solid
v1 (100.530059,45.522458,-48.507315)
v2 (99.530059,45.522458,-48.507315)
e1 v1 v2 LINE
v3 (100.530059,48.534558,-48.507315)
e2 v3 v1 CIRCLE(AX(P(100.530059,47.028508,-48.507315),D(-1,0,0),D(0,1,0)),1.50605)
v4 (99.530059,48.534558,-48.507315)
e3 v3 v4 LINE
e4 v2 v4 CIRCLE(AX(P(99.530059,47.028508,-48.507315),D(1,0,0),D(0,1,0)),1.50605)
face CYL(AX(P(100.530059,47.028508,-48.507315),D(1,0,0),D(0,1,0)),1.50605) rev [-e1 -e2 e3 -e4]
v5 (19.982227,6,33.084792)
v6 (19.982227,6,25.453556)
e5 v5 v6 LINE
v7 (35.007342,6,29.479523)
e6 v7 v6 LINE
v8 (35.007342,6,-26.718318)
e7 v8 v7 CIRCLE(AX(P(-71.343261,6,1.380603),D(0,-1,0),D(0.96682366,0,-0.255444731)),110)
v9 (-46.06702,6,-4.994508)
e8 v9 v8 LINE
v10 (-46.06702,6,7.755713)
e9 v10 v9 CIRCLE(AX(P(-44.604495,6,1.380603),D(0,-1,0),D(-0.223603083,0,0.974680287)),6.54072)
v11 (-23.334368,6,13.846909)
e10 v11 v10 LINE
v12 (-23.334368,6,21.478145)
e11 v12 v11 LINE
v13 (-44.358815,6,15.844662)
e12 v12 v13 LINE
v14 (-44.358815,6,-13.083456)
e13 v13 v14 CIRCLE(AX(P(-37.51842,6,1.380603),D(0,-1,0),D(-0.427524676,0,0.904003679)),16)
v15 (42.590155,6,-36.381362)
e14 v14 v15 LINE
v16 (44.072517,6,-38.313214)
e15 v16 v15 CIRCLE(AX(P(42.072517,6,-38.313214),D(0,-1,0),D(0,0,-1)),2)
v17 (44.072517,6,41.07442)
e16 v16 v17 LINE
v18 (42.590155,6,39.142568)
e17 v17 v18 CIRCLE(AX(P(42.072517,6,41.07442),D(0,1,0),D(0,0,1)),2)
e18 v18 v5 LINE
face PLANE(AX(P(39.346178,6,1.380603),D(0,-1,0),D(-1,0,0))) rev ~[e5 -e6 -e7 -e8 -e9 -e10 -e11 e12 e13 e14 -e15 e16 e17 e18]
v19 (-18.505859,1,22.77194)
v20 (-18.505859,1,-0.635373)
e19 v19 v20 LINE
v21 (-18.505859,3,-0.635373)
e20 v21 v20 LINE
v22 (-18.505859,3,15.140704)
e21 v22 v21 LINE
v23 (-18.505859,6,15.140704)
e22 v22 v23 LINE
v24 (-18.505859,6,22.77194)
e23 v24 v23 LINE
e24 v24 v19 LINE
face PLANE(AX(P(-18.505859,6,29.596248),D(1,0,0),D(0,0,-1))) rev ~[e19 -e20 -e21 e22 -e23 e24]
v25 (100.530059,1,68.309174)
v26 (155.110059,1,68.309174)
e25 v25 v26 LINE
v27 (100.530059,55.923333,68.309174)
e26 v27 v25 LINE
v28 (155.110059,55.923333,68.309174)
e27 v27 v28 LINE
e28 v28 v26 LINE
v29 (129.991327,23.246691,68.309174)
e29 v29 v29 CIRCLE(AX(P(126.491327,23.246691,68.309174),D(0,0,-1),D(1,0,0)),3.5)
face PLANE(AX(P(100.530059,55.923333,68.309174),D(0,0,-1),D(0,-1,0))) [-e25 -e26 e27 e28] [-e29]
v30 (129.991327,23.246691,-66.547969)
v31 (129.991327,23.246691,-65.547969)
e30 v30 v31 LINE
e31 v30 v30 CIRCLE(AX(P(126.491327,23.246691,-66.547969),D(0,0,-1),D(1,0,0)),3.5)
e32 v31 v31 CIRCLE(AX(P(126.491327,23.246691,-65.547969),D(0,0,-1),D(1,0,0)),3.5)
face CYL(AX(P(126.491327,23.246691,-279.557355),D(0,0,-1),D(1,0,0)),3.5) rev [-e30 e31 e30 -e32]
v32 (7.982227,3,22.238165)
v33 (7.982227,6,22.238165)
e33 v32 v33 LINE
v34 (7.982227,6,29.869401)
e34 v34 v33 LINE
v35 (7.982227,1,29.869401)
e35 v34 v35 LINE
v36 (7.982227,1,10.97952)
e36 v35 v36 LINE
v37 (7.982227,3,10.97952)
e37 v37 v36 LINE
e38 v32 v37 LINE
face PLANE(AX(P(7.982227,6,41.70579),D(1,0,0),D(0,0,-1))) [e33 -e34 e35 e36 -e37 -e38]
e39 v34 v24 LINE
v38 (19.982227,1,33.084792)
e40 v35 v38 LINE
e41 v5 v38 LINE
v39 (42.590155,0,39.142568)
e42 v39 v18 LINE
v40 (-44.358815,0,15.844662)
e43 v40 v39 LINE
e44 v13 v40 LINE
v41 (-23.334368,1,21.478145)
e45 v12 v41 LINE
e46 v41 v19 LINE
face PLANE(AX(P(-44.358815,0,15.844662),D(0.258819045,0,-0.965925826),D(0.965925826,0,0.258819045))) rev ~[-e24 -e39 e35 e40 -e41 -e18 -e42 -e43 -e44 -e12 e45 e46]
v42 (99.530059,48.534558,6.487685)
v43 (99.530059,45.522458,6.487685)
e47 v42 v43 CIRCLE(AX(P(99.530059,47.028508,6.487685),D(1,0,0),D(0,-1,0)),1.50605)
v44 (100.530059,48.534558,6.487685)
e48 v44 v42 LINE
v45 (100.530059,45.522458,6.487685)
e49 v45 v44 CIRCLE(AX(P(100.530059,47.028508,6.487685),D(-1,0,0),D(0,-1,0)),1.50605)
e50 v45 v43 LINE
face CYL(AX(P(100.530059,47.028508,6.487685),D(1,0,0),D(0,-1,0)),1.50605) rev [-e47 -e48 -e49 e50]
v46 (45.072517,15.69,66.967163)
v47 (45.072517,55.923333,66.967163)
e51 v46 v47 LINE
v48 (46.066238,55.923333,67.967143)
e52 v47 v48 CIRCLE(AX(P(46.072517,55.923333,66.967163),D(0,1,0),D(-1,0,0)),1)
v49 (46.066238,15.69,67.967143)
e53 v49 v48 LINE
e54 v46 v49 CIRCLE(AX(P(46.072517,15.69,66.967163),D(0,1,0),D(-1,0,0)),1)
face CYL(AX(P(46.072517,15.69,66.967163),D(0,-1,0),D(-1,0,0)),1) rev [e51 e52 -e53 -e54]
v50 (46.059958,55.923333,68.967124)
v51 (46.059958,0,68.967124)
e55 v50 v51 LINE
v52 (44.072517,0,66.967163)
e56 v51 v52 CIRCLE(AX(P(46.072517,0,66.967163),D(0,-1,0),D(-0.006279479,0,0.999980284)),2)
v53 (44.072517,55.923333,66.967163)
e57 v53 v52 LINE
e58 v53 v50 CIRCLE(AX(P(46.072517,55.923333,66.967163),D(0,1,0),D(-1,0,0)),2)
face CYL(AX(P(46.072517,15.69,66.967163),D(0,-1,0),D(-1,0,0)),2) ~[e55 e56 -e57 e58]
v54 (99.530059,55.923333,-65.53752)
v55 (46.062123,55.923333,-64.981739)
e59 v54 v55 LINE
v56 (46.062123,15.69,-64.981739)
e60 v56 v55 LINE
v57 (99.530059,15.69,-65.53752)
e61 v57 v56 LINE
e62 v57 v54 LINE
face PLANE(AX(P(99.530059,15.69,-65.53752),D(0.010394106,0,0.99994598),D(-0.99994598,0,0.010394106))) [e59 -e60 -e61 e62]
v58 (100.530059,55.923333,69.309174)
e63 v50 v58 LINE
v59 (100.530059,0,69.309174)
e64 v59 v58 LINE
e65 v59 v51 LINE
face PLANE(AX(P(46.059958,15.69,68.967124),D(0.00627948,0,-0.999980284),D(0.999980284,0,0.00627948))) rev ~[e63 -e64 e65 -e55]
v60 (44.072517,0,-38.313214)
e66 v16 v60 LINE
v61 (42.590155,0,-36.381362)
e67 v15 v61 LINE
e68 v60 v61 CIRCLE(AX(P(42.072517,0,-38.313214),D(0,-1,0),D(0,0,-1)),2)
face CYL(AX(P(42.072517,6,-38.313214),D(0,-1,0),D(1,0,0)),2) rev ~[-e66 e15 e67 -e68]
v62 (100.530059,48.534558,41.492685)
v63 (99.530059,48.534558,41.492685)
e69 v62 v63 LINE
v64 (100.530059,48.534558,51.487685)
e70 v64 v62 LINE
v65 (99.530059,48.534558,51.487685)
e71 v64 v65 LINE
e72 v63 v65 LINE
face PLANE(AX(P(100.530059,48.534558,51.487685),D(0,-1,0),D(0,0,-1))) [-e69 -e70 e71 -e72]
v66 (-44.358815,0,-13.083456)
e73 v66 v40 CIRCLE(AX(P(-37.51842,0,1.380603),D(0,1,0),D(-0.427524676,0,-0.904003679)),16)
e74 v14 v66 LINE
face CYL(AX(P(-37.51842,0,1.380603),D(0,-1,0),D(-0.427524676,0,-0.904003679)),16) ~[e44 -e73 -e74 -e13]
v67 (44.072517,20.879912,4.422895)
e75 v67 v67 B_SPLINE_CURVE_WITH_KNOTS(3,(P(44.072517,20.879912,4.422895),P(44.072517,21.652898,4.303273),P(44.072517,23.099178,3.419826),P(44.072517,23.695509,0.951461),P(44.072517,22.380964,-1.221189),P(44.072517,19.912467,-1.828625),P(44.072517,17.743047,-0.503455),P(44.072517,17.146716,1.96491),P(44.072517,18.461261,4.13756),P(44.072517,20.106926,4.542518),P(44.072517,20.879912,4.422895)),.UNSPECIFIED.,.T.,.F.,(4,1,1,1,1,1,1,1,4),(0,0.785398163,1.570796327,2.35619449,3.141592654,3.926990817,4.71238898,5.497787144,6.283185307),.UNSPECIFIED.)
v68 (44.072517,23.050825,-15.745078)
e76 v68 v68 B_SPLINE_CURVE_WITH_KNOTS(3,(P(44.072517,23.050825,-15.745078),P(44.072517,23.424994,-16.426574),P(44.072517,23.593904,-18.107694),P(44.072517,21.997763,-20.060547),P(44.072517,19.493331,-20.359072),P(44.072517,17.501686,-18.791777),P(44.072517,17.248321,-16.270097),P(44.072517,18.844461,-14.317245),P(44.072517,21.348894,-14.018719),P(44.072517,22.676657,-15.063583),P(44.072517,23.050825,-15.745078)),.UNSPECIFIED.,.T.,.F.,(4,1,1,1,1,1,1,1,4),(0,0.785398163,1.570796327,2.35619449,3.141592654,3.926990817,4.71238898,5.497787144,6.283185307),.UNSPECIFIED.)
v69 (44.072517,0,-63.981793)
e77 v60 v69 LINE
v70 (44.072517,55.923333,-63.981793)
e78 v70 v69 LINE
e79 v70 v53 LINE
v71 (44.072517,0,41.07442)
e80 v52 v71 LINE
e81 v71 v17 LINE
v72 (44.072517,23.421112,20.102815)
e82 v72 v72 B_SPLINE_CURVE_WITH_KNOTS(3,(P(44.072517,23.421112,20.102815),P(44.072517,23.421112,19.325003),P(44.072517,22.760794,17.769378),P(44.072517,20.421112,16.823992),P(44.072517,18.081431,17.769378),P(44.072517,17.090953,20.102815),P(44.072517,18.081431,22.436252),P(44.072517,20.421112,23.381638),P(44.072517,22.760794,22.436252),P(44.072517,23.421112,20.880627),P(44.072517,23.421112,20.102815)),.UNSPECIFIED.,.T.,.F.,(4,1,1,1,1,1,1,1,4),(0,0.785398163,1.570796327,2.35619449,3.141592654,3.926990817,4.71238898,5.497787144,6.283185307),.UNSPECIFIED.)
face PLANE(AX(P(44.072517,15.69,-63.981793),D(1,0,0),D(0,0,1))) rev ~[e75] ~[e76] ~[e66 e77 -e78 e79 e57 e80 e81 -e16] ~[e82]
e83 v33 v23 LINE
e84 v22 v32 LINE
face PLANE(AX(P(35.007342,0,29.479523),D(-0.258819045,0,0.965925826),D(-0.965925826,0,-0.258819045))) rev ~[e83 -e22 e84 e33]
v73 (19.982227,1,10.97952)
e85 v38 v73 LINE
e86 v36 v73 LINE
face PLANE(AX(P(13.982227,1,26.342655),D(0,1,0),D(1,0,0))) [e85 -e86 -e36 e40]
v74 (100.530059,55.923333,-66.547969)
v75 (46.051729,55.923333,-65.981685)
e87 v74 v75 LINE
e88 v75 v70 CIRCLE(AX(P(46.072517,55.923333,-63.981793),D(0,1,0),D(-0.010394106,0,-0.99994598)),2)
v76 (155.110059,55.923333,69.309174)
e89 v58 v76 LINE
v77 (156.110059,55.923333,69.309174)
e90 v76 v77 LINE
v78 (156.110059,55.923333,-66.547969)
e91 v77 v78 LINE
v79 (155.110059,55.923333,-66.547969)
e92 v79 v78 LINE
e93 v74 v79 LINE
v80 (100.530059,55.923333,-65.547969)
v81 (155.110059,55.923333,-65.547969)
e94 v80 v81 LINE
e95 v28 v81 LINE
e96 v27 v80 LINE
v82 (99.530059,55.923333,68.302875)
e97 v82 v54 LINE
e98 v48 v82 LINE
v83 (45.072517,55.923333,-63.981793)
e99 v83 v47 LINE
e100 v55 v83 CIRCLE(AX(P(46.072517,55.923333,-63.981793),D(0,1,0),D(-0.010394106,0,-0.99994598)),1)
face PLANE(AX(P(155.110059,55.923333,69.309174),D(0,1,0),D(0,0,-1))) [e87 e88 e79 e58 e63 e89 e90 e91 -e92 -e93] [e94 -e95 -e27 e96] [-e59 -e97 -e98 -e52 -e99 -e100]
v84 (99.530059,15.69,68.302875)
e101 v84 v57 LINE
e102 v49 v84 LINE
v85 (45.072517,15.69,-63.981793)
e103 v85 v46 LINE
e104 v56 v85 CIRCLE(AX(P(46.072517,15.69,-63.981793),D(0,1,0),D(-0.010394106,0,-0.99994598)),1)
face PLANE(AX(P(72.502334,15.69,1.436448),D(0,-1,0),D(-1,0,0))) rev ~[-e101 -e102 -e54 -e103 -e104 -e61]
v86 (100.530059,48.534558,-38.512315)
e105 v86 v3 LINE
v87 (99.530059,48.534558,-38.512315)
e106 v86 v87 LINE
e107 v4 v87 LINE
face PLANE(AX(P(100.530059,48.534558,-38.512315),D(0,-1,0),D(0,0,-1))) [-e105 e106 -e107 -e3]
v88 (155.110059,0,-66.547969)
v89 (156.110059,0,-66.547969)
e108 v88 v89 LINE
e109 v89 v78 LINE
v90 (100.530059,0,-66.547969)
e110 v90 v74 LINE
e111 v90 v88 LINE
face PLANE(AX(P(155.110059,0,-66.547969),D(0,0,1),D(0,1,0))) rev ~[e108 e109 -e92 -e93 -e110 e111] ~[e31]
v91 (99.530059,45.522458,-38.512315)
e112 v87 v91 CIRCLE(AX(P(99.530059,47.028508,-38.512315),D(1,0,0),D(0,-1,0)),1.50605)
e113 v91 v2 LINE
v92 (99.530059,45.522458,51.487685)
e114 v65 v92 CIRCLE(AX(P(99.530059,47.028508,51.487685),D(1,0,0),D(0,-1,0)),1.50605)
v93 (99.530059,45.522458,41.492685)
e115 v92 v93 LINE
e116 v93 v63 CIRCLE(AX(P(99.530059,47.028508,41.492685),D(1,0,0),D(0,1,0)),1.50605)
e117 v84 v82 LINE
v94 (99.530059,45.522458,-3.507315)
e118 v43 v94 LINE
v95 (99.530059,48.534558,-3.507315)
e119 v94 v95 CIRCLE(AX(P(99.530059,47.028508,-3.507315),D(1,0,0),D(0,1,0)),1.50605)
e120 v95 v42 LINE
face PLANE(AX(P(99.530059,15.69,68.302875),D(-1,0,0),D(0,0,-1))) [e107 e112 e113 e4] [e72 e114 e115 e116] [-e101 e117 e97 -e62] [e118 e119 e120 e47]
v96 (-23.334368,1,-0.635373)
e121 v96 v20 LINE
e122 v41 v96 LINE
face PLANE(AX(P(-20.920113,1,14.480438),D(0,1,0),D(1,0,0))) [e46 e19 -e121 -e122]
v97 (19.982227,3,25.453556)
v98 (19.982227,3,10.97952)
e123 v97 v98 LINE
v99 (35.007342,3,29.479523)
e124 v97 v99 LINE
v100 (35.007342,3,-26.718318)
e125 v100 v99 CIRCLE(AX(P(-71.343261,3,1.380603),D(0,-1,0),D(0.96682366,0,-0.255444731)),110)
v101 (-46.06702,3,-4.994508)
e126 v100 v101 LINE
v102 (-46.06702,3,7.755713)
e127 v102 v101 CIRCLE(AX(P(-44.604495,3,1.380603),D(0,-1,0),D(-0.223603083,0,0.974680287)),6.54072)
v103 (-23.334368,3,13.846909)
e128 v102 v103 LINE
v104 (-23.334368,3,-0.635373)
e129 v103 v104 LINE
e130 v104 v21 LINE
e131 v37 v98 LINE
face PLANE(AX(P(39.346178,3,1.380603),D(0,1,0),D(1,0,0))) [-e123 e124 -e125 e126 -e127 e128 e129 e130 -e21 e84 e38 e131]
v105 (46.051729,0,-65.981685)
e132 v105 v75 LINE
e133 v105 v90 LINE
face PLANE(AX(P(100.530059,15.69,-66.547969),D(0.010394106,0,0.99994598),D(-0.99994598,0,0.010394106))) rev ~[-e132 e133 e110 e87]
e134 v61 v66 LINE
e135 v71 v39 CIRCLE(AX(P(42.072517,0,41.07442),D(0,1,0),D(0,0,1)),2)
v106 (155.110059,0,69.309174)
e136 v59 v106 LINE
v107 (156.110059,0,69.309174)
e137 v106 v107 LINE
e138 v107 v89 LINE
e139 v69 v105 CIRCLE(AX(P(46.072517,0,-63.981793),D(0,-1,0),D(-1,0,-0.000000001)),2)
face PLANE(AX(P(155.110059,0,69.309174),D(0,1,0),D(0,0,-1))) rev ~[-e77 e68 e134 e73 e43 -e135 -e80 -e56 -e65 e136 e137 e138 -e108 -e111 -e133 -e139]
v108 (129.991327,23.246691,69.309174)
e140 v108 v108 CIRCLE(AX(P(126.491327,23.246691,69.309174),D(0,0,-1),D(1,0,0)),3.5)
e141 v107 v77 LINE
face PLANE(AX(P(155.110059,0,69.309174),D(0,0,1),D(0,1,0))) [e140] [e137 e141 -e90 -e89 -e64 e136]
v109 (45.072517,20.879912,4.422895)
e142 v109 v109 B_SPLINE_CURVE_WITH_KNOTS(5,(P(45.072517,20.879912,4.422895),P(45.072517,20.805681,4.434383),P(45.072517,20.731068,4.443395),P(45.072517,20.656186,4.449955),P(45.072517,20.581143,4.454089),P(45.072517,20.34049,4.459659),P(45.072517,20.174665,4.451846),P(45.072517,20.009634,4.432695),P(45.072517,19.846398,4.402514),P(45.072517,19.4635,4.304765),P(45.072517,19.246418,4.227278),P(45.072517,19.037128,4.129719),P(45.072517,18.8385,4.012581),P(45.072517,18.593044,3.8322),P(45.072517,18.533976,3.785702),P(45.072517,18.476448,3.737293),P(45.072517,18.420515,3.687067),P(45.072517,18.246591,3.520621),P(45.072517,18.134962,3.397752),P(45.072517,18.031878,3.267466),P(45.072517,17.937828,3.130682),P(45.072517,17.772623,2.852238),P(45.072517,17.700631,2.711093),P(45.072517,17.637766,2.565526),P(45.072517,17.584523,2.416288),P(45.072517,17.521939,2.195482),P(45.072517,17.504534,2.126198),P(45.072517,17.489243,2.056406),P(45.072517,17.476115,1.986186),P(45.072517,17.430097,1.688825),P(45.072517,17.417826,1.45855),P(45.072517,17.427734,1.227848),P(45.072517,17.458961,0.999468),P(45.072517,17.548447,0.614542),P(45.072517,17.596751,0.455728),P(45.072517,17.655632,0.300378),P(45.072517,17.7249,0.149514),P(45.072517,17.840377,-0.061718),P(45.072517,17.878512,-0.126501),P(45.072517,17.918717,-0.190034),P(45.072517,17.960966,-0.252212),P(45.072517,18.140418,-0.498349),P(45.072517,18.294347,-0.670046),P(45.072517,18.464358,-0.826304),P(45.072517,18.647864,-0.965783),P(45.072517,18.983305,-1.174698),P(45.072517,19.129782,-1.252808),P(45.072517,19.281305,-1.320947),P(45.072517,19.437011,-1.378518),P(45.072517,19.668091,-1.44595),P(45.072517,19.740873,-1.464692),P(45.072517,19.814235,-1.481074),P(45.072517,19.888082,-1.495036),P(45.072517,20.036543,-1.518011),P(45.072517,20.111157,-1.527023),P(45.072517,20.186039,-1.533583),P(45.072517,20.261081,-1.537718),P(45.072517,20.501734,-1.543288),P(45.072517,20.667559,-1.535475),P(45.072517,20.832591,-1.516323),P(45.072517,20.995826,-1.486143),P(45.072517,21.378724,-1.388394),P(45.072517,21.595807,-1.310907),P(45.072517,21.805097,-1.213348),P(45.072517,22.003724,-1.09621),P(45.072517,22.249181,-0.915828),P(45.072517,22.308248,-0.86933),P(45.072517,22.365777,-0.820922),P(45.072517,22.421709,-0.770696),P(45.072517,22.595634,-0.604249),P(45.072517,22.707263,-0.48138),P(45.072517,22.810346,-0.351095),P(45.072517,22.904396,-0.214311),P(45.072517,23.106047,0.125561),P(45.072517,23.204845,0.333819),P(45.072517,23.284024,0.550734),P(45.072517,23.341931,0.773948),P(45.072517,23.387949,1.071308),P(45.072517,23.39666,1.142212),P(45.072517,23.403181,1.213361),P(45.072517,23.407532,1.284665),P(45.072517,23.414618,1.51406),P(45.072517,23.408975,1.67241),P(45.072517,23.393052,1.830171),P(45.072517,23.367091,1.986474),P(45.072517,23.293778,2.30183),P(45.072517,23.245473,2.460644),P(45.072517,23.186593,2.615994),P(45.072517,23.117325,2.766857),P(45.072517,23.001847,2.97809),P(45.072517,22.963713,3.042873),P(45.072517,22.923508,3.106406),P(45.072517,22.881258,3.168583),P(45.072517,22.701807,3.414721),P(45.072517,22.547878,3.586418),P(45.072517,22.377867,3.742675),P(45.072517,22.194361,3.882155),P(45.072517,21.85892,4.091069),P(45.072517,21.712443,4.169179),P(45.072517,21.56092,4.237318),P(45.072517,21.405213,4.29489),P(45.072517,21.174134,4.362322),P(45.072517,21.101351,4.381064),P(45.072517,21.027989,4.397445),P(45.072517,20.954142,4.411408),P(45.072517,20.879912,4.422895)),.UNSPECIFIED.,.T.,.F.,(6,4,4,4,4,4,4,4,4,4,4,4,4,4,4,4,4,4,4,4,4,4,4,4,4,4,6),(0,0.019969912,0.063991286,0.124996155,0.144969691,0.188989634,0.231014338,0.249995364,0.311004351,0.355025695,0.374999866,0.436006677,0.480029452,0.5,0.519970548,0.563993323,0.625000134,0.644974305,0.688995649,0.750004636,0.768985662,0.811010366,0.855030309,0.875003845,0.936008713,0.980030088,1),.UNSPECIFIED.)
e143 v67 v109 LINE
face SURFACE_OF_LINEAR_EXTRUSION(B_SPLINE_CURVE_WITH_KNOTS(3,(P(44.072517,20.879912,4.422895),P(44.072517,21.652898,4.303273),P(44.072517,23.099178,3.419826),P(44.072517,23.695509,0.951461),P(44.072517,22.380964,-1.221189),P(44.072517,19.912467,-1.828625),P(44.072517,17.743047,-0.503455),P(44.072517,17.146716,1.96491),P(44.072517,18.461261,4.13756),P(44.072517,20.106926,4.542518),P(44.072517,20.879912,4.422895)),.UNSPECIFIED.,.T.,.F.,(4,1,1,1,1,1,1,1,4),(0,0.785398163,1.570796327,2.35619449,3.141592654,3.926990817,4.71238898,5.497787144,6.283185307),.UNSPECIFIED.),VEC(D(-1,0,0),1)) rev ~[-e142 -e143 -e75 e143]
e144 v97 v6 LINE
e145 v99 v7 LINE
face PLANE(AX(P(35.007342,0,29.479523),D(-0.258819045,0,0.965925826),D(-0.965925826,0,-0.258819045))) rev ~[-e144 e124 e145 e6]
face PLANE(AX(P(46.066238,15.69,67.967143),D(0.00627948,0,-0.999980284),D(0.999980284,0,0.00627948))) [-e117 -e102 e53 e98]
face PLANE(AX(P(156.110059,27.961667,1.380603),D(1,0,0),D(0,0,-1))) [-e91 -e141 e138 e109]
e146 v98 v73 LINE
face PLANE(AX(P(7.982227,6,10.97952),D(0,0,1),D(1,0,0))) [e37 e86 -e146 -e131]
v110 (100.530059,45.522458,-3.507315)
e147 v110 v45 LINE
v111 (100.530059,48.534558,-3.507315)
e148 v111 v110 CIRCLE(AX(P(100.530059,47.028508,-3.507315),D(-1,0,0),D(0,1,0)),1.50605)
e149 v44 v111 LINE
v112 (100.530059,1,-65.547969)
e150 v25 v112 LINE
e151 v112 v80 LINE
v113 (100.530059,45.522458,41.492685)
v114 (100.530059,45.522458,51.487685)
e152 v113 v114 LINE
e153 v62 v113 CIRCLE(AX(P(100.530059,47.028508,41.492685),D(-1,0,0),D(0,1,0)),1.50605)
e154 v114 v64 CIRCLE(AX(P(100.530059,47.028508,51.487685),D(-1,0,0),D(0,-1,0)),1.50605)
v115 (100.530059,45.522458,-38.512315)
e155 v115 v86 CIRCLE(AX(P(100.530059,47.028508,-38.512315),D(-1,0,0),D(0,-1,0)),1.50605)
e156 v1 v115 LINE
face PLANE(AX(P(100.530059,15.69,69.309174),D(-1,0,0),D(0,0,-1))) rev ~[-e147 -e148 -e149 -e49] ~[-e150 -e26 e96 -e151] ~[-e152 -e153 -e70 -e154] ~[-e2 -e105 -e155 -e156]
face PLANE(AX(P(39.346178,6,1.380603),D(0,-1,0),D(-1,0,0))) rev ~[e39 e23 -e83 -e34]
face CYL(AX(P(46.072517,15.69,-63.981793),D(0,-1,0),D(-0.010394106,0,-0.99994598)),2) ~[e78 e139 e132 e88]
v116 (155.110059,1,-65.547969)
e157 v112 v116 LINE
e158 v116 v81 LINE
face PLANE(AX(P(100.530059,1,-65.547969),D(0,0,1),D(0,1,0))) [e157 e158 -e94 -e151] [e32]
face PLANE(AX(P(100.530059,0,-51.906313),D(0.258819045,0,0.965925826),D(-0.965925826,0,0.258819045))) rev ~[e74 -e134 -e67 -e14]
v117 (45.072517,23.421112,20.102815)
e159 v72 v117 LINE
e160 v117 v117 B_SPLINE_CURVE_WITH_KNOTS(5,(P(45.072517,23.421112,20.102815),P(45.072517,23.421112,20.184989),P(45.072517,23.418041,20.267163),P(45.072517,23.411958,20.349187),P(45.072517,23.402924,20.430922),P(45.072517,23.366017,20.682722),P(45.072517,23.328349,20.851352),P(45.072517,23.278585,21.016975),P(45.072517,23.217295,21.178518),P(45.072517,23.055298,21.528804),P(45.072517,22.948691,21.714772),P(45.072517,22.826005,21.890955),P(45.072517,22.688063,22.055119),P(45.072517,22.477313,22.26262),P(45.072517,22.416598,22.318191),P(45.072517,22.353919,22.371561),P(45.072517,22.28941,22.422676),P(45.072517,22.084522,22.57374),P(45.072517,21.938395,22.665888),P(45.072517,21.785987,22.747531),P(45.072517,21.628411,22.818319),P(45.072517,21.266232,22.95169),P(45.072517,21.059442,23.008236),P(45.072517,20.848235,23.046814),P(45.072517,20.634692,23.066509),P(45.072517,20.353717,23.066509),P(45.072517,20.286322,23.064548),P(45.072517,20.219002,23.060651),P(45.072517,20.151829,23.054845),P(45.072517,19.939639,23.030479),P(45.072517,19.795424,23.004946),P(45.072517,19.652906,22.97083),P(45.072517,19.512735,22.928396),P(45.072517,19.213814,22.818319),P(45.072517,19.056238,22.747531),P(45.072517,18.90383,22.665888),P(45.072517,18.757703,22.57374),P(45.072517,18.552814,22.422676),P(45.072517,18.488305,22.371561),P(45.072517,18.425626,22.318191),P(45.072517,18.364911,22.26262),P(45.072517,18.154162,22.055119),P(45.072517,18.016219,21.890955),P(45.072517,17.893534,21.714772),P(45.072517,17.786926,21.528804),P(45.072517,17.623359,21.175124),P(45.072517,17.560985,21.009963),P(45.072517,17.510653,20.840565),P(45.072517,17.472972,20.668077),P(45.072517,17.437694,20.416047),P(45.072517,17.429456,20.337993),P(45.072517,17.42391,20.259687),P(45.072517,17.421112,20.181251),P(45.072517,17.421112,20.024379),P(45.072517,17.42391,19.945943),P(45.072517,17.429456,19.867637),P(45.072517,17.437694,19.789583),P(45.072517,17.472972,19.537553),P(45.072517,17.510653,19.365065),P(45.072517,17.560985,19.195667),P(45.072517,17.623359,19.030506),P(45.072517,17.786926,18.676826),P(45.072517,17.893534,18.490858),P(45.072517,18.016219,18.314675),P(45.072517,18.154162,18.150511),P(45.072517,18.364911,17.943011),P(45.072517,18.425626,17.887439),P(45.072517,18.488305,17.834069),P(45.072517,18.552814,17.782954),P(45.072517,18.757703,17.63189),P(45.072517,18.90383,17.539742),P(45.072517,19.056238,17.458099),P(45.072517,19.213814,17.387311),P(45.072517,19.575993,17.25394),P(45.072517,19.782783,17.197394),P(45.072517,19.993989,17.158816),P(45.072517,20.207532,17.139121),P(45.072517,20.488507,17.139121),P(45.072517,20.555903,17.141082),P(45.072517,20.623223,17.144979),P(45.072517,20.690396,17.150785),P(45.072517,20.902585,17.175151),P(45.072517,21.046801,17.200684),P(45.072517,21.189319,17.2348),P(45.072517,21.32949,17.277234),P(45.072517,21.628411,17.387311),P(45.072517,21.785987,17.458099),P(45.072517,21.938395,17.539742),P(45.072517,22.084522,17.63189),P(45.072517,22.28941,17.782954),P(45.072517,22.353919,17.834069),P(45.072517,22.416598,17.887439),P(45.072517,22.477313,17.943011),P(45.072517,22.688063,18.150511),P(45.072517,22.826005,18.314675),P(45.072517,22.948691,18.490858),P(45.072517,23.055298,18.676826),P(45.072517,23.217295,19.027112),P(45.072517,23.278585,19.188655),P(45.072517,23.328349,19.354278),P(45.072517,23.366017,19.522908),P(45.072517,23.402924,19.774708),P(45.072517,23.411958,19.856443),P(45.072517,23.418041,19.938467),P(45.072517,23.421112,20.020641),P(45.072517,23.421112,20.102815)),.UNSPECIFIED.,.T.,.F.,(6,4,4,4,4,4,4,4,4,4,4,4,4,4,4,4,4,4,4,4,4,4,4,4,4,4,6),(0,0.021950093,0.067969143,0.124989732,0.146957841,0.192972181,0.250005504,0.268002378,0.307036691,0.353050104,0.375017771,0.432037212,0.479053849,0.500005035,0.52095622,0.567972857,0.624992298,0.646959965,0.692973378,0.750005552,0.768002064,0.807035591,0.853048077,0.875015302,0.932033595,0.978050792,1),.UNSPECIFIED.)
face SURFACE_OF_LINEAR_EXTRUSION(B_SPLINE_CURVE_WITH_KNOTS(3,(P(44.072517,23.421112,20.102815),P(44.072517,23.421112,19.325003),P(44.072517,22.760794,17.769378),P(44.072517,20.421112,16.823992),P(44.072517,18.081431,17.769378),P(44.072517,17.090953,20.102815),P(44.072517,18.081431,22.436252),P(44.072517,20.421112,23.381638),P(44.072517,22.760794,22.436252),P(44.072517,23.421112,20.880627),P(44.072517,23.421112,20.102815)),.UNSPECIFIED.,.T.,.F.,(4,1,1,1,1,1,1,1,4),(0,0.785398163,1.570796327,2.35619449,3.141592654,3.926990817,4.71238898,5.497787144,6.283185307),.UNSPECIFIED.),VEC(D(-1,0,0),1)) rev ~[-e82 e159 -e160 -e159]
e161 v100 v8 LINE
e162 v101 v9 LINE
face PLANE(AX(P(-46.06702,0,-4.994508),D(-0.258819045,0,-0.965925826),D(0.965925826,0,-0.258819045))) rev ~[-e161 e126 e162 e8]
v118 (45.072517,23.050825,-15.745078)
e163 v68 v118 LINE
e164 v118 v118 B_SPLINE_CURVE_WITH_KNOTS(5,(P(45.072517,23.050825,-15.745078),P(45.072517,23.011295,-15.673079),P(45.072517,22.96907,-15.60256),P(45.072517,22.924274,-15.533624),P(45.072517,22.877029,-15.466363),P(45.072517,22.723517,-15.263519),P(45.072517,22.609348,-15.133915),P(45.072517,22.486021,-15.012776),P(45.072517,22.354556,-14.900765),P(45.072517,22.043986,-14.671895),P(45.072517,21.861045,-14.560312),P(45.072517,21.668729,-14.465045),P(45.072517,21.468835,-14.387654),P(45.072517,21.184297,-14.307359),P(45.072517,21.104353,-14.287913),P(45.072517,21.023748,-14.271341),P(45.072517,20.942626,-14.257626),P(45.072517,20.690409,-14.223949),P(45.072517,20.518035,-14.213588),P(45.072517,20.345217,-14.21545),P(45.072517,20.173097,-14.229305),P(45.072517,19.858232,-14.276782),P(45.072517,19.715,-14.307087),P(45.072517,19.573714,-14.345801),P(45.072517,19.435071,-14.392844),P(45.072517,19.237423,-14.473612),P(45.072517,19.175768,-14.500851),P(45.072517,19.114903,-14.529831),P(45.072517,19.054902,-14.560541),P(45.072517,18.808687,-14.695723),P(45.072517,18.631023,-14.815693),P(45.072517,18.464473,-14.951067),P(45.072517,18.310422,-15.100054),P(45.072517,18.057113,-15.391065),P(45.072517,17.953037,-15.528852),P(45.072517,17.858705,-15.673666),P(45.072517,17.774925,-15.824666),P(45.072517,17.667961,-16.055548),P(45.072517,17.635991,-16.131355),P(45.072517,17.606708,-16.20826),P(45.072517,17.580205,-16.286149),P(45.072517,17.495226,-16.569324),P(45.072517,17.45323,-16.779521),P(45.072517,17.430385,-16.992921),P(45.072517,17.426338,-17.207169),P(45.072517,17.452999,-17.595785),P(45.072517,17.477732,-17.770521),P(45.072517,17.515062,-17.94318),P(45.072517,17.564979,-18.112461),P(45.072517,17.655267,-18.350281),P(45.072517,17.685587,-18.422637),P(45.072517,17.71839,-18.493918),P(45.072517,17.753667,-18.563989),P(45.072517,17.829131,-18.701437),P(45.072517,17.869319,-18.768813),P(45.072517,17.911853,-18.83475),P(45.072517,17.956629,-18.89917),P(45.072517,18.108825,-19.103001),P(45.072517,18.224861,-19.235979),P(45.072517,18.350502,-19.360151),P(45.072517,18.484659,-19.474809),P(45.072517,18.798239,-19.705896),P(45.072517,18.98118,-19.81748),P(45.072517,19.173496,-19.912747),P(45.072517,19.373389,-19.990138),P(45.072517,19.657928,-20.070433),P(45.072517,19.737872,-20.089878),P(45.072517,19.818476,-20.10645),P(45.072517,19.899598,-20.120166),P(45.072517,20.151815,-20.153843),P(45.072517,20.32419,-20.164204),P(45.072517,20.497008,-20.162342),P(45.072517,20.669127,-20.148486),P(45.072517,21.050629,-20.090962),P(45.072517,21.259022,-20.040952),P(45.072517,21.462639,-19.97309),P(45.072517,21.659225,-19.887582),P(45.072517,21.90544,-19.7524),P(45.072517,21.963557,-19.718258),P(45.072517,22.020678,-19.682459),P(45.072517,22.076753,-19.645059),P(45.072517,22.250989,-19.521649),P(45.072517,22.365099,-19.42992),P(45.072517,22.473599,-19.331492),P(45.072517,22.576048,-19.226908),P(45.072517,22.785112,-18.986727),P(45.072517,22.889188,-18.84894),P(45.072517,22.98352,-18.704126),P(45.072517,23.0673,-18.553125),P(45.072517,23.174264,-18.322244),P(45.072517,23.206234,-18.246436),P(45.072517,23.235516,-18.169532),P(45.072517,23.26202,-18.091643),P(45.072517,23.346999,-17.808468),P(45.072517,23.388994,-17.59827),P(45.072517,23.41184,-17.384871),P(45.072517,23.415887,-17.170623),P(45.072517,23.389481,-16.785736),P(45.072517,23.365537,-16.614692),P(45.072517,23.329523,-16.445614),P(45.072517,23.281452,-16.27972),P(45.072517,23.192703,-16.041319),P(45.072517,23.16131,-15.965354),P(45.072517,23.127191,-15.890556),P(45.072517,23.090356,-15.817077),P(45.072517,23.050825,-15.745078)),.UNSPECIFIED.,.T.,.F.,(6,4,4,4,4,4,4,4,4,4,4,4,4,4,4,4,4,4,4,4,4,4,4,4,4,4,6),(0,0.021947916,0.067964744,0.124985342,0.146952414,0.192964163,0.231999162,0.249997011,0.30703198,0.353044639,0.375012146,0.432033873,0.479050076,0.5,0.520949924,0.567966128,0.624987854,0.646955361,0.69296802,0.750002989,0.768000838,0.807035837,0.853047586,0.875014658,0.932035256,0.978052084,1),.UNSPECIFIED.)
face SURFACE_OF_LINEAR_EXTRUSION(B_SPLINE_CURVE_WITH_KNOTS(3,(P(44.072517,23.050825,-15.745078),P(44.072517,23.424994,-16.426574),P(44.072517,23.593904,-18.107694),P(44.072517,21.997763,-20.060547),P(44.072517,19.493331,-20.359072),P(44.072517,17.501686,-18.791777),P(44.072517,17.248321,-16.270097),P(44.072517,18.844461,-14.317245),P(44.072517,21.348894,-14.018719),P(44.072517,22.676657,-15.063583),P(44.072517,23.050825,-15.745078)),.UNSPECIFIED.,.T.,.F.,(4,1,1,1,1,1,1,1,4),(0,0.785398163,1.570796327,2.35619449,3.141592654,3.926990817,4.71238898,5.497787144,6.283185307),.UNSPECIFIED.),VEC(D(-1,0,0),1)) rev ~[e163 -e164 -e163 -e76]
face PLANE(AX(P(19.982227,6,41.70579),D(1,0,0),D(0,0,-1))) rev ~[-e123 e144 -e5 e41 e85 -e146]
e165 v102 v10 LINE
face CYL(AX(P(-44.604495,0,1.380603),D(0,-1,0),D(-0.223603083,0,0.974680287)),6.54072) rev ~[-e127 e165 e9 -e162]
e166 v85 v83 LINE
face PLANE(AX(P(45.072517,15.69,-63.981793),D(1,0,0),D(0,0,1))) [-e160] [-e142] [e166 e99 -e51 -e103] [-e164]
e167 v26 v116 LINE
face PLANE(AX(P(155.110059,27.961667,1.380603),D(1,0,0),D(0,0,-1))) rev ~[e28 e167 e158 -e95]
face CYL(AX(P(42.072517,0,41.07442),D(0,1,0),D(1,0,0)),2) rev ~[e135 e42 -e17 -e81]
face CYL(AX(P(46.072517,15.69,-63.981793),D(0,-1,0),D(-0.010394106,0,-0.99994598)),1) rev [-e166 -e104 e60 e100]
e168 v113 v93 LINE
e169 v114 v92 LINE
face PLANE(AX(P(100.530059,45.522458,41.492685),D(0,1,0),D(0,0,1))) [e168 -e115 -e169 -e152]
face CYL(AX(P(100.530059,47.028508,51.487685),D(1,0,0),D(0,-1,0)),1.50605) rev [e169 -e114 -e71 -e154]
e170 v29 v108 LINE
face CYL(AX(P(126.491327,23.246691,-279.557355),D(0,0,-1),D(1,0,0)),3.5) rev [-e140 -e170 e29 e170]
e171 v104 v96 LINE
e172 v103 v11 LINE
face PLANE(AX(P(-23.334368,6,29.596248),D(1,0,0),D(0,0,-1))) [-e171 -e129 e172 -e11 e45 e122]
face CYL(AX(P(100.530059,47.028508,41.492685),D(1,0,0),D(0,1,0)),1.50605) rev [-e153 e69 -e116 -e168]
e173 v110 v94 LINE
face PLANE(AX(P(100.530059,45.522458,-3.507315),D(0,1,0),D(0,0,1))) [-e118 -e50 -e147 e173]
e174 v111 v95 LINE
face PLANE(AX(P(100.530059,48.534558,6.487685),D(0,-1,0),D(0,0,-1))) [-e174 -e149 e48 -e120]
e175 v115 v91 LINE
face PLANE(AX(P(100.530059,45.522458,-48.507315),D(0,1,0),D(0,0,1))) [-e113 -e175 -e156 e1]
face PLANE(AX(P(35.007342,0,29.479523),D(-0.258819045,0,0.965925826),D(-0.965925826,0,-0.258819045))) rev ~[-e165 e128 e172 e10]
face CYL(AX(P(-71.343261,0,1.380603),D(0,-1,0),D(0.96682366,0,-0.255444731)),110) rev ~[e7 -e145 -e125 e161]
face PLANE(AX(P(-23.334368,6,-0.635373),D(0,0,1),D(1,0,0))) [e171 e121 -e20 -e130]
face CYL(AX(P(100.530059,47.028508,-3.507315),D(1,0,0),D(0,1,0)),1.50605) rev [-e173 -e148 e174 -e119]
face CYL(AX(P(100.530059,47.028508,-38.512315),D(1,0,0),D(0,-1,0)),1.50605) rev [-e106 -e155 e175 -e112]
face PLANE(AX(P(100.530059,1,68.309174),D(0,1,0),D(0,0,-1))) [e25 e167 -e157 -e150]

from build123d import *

# Parameters (mm, degrees)
BOSS_EXTRUDE1_DEPTH      = 3
BOSS_EXTRUDE2_DEPTH      = 6
BOSS_EXTRUDE3_DEPTH      = 9.69
BOSS_EXTRUDE3_DEPTH_BACK = 6
FILLET1_R                = 2
FILLET2_R                = 2
BOSS_EXTRUDE4_DEPTH      = 40.233333333
CUT_EXTRUDE1_DEPTH       = 1.5
CUT_EXTRUDE2_DEPTH       = 1.5
BOSS_EXTRUDE5_DEPTH      = 54.58
CUT_EXTRUDE3_DEPTH       = 214.009386465
CUT_EXTRUDE3_DEPTH_BACK  = 214.009386465
SKETCH10_R               = 3.5
SKETCH12_W               = 12
SKETCH12_H               = 30.726270376
SKETCH12_W_2             = 4.828508562
SKETCH12_H_2             = 30.231621193
CUT_EXTRUDE4_DEPTH       = 5
SKETCH13_W               = 135.857143104
SKETCH13_H               = 55.923333333
BOSS_EXTRUDE6_DEPTH      = 1


with BuildPart() as part:
    # Sketch2 → Boss-Extrude1 (new body)
    with BuildSketch(Plane(origin=(0, 0, 0), x_dir=(1, 0, 0), z_dir=(0, 1, 0))):
        with BuildLine():
            Line((-44.358814779, -15.844661539), (100.530059165, -54.667518304))
            Line((100.530059165, -54.667518304), (100.530059165, 51.906312945))
            Line((100.530059165, 51.906312945), (-44.358814779, 13.083456179))
            ThreePointArc((-44.358814779, 13.083456179), (-53.518419956, -1.38060268), (-44.358814779, -15.844661539))
        make_face()
    extrude(amount=BOSS_EXTRUDE1_DEPTH)

    # Sketch2<3> → Boss-Extrude2 (add)
    with BuildSketch(Plane(origin=(0, 0, 0), x_dir=(1, 0, 0), z_dir=(0, 1, 0))):
        with BuildLine():
            Line((-44.358814779, 13.083456179), (100.530059165, 51.906312945))
            Line((100.530059165, 51.906312945), (100.530059165, -54.667518304))
            Line((100.530059165, -54.667518304), (-44.358814779, -15.844661539))
            ThreePointArc((-44.358814779, -15.844661539), (-53.518419956, -1.38060268), (-44.358814779, 13.083456179))
        make_face()
        with BuildLine():
            Line((-46.067020476, 4.994507774), (35.007341865, 26.71831769))
            ThreePointArc((35.007341865, 26.71831769), (38.656739262, -1.38060268), (35.007341865, -29.479523049))
            Line((35.007341865, -29.479523049), (-46.067020476, -7.755713133))
            ThreePointArc((-46.067020476, -7.755713133), (-51.145215007, -1.38060268), (-46.067020476, 4.994507774))
        make_face(mode=Mode.SUBTRACT)
    extrude(amount=BOSS_EXTRUDE2_DEPTH)

    # Sketch3 → Boss-Extrude3 (add, two sides: drawn at the far end of the back side and taken through both)
    with BuildSketch(Plane(origin=(0, 6, 0), x_dir=(1, 0, 0), z_dir=(0, 1, 0)).offset(-BOSS_EXTRUDE3_DEPTH_BACK)):
        with BuildLine():
            Line((44.072517202, -66.967163029), (44.072517202, -39.539765529))
            Line((44.072517202, -39.539765529), (44.072517202, 36.778560169))
            Line((44.072517202, 36.778560169), (44.072517202, 63.981792798))
            ThreePointArc((44.072517202, 63.981792798), (44.650972897, 65.388637419), (46.051728991, 65.981684758))
            Line((46.051728991, 65.981684758), (100.530059165, 66.547968872))
            Line((100.530059165, 66.547968872), (100.530059165, 51.906312945))
            Line((100.530059165, 51.906312945), (100.530059165, -54.667518304))
            Line((100.530059165, -54.667518304), (100.530059165, -69.309174232))
            Line((100.530059165, -69.309174232), (46.059958243, -68.967123596))
            ThreePointArc((46.059958243, -68.967123596), (44.653870326, -68.376929336), (44.072517202, -66.967163029))
        make_face()
    extrude(amount=BOSS_EXTRUDE3_DEPTH + BOSS_EXTRUDE3_DEPTH_BACK)

    # Fillet1
    fillet1_edges = [part.edges().sort_by_distance(p)[0] for p in [
        (44.072517202, 3, 39.539765529),
    ]]
    fillet(fillet1_edges, radius=FILLET1_R)

    # Fillet2
    fillet2_edges = [part.edges().sort_by_distance(p)[0] for p in [
        (44.072517202, 3, -36.778560169),
    ]]
    fillet(fillet2_edges, radius=FILLET2_R)

    # Sketch5 → Boss-Extrude4 (add)
    with BuildSketch(Plane(origin=(0, 15.69, 0), x_dir=(1, 0, 0), z_dir=(0, 1, 0))):
        with BuildLine():
            Line((46.059958243, -68.967123596), (100.530059165, -69.309174232))
            Line((100.530059165, -69.309174232), (100.530059165, 66.547968872))
            Line((100.530059165, 66.547968872), (46.051728991, 65.981684758))
            ThreePointArc((46.051728991, 65.981684758), (44.650972897, 65.388637419), (44.072517202, 63.981792798))
            Line((44.072517202, 63.981792798), (44.072517202, -66.967163029))
            ThreePointArc((44.072517202, -66.967163029), (44.653870326, -68.376929336), (46.059958243, -68.967123596))
        make_face()
        with BuildLine():
            Line((99.530059165, -68.302874912), (99.530059165, 65.537520182))
            Line((99.530059165, 65.537520182), (46.062123097, 64.981738778))
            ThreePointArc((46.062123097, 64.981738778), (45.36174505, 64.685215109), (45.072517202, 63.981792798))
            Line((45.072517202, 63.981792798), (45.072517202, -66.967163029))
            ThreePointArc((45.072517202, -66.967163029), (45.363193764, -67.672046182), (46.066237723, -67.967143312))
            Line((46.066237723, -67.967143312), (99.530059165, -68.302874912))
        make_face(mode=Mode.SUBTRACT)
    extrude(amount=BOSS_EXTRUDE4_DEPTH)

    # Sketch6 → Cut-Extrude1 (cut)
    with BuildSketch(Plane.ZY.offset(-44.072517202)):
        with BuildLine():
            add(Edge.make_bspline(
                [(-15.745078449, 23.050825441), (-16.426574269, 23.424993836), (-18.107694271, 23.59390395), (-20.06054673, 21.997763181), (-20.359072413, 19.493331011), (-18.791777494, 17.501685815), (-16.270097491, 17.248320643), (-14.317245033, 18.844461412), (-14.018719349, 21.348893583), (-15.063582628, 22.676657046), (-15.745078449, 23.050825441)],
                knots=[0, 0, 0, 0, 0.785398163, 1.570796327, 2.35619449, 3.141592654, 3.926990817, 4.71238898, 5.497787144, 6.283185307, 6.283185307, 6.283185307, 6.283185307], degree=3))
        make_face()
        with BuildLine():
            add(Edge.make_bspline(
                [(4.422895342, 20.879911755), (4.30327296, 21.652897904), (3.419826029, 23.099177602), (0.951461151, 23.695508582), (-1.221188854, 22.380963882), (-1.828624955, 19.912466539), (-0.50345456, 17.743046992), (1.964910319, 17.146716012), (4.137560324, 18.461260712), (4.542517725, 20.106925607), (4.422895342, 20.879911755)],
                knots=[0, 0, 0, 0, 0.785398163, 1.570796327, 2.35619449, 3.141592654, 3.926990817, 4.71238898, 5.497787144, 6.283185307, 6.283185307, 6.283185307, 6.283185307], degree=3))
        make_face()
        with BuildLine():
            add(Edge.make_bspline(
                [(20.102815045, 23.421112297), (19.325002738, 23.421112297), (17.769378124, 22.760793636), (16.823992487, 20.421112297), (17.769378124, 18.081430957), (20.102815045, 17.090952967), (22.436251966, 18.081430957), (23.381637603, 20.421112297), (22.436251966, 22.760793636), (20.880627352, 23.421112297), (20.102815045, 23.421112297)],
                knots=[0, 0, 0, 0, 0.785398163, 1.570796327, 2.35619449, 3.141592654, 3.926990817, 4.71238898, 5.497787144, 6.283185307, 6.283185307, 6.283185307, 6.283185307], degree=3))
        make_face()
    extrude(amount=-CUT_EXTRUDE1_DEPTH, mode=Mode.SUBTRACT)

    # Sketch7 → Cut-Extrude2 (cut)
    with BuildSketch(Plane(origin=(100.530059165, 0, 0), x_dir=(0, 0, -1), z_dir=(1, 0, 0))):
        with BuildLine():
            Line((-51.487685115, 48.534557921), (-41.492685115, 48.534557921))
            ThreePointArc((-41.492685115, 48.534557921), (-39.98663504, 47.028507846), (-41.492685115, 45.522457772))
            Line((-41.492685115, 45.522457772), (-51.487685115, 45.522457772))
            ThreePointArc((-51.487685115, 45.522457772), (-52.99373519, 47.028507846), (-51.487685115, 48.534557921))
        make_face()
        with BuildLine():
            Line((-6.487685115, 48.534557921), (3.507314885, 48.534557921))
            ThreePointArc((3.507314885, 48.534557921), (5.013364959, 47.028507846), (3.507314885, 45.522457772))
            Line((3.507314885, 45.522457772), (-6.487685115, 45.522457772))
            ThreePointArc((-6.487685115, 45.522457772), (-7.99373519, 47.028507846), (-6.487685115, 48.534557921))
        make_face()
        with BuildLine():
            Line((38.512314885, 48.534557921), (48.507314885, 48.534557921))
            ThreePointArc((48.507314885, 48.534557921), (50.01336496, 47.028507846), (48.507314885, 45.522457772))
            Line((48.507314885, 45.522457772), (38.512314885, 45.522457772))
            ThreePointArc((38.512314885, 45.522457772), (37.00626481, 47.028507846), (38.512314885, 48.534557921))
        make_face()
    extrude(amount=-CUT_EXTRUDE2_DEPTH, mode=Mode.SUBTRACT)

    # Sketch8 → Boss-Extrude5 (add)
    with BuildSketch(Plane(origin=(100.530059165, 0, 0), x_dir=(0, 0, -1), z_dir=(1, 0, 0))):
        Polygon((66.547968872, 55.923333333), (66.547968872, 0), (-69.309174232, 0), (-69.309174232, 55.923333333), (-68.309174232, 55.923333333), (-68.309174232, 1), (65.547968872, 1), (65.547968872, 55.923333333), align=None)
    extrude(amount=BOSS_EXTRUDE5_DEPTH)

    # Sketch10 → Cut-Extrude3 (cut, two sides: drawn at the far end of the back side and taken through both)
    with BuildSketch(Plane.XY.offset(-65.547968872).offset(-CUT_EXTRUDE3_DEPTH_BACK)):
        with Locations((126.491326957, 23.246690768)):
            Circle(SKETCH10_R)
    extrude(amount=CUT_EXTRUDE3_DEPTH + CUT_EXTRUDE3_DEPTH_BACK, mode=Mode.SUBTRACT)

    # Sketch12 → Cut-Extrude4 (cut)
    with BuildSketch(Plane(origin=(0, 6, 0), x_dir=(1, 0, 0), z_dir=(0, 1, 0))):
        with Locations((13.982227259, -26.342654968)):
            Rectangle(SKETCH12_W, SKETCH12_H)
        with Locations((-20.920113411, -14.480437774)):
            Rectangle(SKETCH12_W_2, SKETCH12_H_2)
    extrude(amount=-CUT_EXTRUDE4_DEPTH, mode=Mode.SUBTRACT)

    # Sketch13 → Boss-Extrude6 (add)
    with BuildSketch(Plane(origin=(155.110059165, 0, 0), x_dir=(0, 0, -1), z_dir=(1, 0, 0))):
        with Locations((-1.38060268, 27.961666667)):
            Rectangle(SKETCH13_W, SKETCH13_H)
    extrude(amount=BOSS_EXTRUDE6_DEPTH)


solid = part.part
